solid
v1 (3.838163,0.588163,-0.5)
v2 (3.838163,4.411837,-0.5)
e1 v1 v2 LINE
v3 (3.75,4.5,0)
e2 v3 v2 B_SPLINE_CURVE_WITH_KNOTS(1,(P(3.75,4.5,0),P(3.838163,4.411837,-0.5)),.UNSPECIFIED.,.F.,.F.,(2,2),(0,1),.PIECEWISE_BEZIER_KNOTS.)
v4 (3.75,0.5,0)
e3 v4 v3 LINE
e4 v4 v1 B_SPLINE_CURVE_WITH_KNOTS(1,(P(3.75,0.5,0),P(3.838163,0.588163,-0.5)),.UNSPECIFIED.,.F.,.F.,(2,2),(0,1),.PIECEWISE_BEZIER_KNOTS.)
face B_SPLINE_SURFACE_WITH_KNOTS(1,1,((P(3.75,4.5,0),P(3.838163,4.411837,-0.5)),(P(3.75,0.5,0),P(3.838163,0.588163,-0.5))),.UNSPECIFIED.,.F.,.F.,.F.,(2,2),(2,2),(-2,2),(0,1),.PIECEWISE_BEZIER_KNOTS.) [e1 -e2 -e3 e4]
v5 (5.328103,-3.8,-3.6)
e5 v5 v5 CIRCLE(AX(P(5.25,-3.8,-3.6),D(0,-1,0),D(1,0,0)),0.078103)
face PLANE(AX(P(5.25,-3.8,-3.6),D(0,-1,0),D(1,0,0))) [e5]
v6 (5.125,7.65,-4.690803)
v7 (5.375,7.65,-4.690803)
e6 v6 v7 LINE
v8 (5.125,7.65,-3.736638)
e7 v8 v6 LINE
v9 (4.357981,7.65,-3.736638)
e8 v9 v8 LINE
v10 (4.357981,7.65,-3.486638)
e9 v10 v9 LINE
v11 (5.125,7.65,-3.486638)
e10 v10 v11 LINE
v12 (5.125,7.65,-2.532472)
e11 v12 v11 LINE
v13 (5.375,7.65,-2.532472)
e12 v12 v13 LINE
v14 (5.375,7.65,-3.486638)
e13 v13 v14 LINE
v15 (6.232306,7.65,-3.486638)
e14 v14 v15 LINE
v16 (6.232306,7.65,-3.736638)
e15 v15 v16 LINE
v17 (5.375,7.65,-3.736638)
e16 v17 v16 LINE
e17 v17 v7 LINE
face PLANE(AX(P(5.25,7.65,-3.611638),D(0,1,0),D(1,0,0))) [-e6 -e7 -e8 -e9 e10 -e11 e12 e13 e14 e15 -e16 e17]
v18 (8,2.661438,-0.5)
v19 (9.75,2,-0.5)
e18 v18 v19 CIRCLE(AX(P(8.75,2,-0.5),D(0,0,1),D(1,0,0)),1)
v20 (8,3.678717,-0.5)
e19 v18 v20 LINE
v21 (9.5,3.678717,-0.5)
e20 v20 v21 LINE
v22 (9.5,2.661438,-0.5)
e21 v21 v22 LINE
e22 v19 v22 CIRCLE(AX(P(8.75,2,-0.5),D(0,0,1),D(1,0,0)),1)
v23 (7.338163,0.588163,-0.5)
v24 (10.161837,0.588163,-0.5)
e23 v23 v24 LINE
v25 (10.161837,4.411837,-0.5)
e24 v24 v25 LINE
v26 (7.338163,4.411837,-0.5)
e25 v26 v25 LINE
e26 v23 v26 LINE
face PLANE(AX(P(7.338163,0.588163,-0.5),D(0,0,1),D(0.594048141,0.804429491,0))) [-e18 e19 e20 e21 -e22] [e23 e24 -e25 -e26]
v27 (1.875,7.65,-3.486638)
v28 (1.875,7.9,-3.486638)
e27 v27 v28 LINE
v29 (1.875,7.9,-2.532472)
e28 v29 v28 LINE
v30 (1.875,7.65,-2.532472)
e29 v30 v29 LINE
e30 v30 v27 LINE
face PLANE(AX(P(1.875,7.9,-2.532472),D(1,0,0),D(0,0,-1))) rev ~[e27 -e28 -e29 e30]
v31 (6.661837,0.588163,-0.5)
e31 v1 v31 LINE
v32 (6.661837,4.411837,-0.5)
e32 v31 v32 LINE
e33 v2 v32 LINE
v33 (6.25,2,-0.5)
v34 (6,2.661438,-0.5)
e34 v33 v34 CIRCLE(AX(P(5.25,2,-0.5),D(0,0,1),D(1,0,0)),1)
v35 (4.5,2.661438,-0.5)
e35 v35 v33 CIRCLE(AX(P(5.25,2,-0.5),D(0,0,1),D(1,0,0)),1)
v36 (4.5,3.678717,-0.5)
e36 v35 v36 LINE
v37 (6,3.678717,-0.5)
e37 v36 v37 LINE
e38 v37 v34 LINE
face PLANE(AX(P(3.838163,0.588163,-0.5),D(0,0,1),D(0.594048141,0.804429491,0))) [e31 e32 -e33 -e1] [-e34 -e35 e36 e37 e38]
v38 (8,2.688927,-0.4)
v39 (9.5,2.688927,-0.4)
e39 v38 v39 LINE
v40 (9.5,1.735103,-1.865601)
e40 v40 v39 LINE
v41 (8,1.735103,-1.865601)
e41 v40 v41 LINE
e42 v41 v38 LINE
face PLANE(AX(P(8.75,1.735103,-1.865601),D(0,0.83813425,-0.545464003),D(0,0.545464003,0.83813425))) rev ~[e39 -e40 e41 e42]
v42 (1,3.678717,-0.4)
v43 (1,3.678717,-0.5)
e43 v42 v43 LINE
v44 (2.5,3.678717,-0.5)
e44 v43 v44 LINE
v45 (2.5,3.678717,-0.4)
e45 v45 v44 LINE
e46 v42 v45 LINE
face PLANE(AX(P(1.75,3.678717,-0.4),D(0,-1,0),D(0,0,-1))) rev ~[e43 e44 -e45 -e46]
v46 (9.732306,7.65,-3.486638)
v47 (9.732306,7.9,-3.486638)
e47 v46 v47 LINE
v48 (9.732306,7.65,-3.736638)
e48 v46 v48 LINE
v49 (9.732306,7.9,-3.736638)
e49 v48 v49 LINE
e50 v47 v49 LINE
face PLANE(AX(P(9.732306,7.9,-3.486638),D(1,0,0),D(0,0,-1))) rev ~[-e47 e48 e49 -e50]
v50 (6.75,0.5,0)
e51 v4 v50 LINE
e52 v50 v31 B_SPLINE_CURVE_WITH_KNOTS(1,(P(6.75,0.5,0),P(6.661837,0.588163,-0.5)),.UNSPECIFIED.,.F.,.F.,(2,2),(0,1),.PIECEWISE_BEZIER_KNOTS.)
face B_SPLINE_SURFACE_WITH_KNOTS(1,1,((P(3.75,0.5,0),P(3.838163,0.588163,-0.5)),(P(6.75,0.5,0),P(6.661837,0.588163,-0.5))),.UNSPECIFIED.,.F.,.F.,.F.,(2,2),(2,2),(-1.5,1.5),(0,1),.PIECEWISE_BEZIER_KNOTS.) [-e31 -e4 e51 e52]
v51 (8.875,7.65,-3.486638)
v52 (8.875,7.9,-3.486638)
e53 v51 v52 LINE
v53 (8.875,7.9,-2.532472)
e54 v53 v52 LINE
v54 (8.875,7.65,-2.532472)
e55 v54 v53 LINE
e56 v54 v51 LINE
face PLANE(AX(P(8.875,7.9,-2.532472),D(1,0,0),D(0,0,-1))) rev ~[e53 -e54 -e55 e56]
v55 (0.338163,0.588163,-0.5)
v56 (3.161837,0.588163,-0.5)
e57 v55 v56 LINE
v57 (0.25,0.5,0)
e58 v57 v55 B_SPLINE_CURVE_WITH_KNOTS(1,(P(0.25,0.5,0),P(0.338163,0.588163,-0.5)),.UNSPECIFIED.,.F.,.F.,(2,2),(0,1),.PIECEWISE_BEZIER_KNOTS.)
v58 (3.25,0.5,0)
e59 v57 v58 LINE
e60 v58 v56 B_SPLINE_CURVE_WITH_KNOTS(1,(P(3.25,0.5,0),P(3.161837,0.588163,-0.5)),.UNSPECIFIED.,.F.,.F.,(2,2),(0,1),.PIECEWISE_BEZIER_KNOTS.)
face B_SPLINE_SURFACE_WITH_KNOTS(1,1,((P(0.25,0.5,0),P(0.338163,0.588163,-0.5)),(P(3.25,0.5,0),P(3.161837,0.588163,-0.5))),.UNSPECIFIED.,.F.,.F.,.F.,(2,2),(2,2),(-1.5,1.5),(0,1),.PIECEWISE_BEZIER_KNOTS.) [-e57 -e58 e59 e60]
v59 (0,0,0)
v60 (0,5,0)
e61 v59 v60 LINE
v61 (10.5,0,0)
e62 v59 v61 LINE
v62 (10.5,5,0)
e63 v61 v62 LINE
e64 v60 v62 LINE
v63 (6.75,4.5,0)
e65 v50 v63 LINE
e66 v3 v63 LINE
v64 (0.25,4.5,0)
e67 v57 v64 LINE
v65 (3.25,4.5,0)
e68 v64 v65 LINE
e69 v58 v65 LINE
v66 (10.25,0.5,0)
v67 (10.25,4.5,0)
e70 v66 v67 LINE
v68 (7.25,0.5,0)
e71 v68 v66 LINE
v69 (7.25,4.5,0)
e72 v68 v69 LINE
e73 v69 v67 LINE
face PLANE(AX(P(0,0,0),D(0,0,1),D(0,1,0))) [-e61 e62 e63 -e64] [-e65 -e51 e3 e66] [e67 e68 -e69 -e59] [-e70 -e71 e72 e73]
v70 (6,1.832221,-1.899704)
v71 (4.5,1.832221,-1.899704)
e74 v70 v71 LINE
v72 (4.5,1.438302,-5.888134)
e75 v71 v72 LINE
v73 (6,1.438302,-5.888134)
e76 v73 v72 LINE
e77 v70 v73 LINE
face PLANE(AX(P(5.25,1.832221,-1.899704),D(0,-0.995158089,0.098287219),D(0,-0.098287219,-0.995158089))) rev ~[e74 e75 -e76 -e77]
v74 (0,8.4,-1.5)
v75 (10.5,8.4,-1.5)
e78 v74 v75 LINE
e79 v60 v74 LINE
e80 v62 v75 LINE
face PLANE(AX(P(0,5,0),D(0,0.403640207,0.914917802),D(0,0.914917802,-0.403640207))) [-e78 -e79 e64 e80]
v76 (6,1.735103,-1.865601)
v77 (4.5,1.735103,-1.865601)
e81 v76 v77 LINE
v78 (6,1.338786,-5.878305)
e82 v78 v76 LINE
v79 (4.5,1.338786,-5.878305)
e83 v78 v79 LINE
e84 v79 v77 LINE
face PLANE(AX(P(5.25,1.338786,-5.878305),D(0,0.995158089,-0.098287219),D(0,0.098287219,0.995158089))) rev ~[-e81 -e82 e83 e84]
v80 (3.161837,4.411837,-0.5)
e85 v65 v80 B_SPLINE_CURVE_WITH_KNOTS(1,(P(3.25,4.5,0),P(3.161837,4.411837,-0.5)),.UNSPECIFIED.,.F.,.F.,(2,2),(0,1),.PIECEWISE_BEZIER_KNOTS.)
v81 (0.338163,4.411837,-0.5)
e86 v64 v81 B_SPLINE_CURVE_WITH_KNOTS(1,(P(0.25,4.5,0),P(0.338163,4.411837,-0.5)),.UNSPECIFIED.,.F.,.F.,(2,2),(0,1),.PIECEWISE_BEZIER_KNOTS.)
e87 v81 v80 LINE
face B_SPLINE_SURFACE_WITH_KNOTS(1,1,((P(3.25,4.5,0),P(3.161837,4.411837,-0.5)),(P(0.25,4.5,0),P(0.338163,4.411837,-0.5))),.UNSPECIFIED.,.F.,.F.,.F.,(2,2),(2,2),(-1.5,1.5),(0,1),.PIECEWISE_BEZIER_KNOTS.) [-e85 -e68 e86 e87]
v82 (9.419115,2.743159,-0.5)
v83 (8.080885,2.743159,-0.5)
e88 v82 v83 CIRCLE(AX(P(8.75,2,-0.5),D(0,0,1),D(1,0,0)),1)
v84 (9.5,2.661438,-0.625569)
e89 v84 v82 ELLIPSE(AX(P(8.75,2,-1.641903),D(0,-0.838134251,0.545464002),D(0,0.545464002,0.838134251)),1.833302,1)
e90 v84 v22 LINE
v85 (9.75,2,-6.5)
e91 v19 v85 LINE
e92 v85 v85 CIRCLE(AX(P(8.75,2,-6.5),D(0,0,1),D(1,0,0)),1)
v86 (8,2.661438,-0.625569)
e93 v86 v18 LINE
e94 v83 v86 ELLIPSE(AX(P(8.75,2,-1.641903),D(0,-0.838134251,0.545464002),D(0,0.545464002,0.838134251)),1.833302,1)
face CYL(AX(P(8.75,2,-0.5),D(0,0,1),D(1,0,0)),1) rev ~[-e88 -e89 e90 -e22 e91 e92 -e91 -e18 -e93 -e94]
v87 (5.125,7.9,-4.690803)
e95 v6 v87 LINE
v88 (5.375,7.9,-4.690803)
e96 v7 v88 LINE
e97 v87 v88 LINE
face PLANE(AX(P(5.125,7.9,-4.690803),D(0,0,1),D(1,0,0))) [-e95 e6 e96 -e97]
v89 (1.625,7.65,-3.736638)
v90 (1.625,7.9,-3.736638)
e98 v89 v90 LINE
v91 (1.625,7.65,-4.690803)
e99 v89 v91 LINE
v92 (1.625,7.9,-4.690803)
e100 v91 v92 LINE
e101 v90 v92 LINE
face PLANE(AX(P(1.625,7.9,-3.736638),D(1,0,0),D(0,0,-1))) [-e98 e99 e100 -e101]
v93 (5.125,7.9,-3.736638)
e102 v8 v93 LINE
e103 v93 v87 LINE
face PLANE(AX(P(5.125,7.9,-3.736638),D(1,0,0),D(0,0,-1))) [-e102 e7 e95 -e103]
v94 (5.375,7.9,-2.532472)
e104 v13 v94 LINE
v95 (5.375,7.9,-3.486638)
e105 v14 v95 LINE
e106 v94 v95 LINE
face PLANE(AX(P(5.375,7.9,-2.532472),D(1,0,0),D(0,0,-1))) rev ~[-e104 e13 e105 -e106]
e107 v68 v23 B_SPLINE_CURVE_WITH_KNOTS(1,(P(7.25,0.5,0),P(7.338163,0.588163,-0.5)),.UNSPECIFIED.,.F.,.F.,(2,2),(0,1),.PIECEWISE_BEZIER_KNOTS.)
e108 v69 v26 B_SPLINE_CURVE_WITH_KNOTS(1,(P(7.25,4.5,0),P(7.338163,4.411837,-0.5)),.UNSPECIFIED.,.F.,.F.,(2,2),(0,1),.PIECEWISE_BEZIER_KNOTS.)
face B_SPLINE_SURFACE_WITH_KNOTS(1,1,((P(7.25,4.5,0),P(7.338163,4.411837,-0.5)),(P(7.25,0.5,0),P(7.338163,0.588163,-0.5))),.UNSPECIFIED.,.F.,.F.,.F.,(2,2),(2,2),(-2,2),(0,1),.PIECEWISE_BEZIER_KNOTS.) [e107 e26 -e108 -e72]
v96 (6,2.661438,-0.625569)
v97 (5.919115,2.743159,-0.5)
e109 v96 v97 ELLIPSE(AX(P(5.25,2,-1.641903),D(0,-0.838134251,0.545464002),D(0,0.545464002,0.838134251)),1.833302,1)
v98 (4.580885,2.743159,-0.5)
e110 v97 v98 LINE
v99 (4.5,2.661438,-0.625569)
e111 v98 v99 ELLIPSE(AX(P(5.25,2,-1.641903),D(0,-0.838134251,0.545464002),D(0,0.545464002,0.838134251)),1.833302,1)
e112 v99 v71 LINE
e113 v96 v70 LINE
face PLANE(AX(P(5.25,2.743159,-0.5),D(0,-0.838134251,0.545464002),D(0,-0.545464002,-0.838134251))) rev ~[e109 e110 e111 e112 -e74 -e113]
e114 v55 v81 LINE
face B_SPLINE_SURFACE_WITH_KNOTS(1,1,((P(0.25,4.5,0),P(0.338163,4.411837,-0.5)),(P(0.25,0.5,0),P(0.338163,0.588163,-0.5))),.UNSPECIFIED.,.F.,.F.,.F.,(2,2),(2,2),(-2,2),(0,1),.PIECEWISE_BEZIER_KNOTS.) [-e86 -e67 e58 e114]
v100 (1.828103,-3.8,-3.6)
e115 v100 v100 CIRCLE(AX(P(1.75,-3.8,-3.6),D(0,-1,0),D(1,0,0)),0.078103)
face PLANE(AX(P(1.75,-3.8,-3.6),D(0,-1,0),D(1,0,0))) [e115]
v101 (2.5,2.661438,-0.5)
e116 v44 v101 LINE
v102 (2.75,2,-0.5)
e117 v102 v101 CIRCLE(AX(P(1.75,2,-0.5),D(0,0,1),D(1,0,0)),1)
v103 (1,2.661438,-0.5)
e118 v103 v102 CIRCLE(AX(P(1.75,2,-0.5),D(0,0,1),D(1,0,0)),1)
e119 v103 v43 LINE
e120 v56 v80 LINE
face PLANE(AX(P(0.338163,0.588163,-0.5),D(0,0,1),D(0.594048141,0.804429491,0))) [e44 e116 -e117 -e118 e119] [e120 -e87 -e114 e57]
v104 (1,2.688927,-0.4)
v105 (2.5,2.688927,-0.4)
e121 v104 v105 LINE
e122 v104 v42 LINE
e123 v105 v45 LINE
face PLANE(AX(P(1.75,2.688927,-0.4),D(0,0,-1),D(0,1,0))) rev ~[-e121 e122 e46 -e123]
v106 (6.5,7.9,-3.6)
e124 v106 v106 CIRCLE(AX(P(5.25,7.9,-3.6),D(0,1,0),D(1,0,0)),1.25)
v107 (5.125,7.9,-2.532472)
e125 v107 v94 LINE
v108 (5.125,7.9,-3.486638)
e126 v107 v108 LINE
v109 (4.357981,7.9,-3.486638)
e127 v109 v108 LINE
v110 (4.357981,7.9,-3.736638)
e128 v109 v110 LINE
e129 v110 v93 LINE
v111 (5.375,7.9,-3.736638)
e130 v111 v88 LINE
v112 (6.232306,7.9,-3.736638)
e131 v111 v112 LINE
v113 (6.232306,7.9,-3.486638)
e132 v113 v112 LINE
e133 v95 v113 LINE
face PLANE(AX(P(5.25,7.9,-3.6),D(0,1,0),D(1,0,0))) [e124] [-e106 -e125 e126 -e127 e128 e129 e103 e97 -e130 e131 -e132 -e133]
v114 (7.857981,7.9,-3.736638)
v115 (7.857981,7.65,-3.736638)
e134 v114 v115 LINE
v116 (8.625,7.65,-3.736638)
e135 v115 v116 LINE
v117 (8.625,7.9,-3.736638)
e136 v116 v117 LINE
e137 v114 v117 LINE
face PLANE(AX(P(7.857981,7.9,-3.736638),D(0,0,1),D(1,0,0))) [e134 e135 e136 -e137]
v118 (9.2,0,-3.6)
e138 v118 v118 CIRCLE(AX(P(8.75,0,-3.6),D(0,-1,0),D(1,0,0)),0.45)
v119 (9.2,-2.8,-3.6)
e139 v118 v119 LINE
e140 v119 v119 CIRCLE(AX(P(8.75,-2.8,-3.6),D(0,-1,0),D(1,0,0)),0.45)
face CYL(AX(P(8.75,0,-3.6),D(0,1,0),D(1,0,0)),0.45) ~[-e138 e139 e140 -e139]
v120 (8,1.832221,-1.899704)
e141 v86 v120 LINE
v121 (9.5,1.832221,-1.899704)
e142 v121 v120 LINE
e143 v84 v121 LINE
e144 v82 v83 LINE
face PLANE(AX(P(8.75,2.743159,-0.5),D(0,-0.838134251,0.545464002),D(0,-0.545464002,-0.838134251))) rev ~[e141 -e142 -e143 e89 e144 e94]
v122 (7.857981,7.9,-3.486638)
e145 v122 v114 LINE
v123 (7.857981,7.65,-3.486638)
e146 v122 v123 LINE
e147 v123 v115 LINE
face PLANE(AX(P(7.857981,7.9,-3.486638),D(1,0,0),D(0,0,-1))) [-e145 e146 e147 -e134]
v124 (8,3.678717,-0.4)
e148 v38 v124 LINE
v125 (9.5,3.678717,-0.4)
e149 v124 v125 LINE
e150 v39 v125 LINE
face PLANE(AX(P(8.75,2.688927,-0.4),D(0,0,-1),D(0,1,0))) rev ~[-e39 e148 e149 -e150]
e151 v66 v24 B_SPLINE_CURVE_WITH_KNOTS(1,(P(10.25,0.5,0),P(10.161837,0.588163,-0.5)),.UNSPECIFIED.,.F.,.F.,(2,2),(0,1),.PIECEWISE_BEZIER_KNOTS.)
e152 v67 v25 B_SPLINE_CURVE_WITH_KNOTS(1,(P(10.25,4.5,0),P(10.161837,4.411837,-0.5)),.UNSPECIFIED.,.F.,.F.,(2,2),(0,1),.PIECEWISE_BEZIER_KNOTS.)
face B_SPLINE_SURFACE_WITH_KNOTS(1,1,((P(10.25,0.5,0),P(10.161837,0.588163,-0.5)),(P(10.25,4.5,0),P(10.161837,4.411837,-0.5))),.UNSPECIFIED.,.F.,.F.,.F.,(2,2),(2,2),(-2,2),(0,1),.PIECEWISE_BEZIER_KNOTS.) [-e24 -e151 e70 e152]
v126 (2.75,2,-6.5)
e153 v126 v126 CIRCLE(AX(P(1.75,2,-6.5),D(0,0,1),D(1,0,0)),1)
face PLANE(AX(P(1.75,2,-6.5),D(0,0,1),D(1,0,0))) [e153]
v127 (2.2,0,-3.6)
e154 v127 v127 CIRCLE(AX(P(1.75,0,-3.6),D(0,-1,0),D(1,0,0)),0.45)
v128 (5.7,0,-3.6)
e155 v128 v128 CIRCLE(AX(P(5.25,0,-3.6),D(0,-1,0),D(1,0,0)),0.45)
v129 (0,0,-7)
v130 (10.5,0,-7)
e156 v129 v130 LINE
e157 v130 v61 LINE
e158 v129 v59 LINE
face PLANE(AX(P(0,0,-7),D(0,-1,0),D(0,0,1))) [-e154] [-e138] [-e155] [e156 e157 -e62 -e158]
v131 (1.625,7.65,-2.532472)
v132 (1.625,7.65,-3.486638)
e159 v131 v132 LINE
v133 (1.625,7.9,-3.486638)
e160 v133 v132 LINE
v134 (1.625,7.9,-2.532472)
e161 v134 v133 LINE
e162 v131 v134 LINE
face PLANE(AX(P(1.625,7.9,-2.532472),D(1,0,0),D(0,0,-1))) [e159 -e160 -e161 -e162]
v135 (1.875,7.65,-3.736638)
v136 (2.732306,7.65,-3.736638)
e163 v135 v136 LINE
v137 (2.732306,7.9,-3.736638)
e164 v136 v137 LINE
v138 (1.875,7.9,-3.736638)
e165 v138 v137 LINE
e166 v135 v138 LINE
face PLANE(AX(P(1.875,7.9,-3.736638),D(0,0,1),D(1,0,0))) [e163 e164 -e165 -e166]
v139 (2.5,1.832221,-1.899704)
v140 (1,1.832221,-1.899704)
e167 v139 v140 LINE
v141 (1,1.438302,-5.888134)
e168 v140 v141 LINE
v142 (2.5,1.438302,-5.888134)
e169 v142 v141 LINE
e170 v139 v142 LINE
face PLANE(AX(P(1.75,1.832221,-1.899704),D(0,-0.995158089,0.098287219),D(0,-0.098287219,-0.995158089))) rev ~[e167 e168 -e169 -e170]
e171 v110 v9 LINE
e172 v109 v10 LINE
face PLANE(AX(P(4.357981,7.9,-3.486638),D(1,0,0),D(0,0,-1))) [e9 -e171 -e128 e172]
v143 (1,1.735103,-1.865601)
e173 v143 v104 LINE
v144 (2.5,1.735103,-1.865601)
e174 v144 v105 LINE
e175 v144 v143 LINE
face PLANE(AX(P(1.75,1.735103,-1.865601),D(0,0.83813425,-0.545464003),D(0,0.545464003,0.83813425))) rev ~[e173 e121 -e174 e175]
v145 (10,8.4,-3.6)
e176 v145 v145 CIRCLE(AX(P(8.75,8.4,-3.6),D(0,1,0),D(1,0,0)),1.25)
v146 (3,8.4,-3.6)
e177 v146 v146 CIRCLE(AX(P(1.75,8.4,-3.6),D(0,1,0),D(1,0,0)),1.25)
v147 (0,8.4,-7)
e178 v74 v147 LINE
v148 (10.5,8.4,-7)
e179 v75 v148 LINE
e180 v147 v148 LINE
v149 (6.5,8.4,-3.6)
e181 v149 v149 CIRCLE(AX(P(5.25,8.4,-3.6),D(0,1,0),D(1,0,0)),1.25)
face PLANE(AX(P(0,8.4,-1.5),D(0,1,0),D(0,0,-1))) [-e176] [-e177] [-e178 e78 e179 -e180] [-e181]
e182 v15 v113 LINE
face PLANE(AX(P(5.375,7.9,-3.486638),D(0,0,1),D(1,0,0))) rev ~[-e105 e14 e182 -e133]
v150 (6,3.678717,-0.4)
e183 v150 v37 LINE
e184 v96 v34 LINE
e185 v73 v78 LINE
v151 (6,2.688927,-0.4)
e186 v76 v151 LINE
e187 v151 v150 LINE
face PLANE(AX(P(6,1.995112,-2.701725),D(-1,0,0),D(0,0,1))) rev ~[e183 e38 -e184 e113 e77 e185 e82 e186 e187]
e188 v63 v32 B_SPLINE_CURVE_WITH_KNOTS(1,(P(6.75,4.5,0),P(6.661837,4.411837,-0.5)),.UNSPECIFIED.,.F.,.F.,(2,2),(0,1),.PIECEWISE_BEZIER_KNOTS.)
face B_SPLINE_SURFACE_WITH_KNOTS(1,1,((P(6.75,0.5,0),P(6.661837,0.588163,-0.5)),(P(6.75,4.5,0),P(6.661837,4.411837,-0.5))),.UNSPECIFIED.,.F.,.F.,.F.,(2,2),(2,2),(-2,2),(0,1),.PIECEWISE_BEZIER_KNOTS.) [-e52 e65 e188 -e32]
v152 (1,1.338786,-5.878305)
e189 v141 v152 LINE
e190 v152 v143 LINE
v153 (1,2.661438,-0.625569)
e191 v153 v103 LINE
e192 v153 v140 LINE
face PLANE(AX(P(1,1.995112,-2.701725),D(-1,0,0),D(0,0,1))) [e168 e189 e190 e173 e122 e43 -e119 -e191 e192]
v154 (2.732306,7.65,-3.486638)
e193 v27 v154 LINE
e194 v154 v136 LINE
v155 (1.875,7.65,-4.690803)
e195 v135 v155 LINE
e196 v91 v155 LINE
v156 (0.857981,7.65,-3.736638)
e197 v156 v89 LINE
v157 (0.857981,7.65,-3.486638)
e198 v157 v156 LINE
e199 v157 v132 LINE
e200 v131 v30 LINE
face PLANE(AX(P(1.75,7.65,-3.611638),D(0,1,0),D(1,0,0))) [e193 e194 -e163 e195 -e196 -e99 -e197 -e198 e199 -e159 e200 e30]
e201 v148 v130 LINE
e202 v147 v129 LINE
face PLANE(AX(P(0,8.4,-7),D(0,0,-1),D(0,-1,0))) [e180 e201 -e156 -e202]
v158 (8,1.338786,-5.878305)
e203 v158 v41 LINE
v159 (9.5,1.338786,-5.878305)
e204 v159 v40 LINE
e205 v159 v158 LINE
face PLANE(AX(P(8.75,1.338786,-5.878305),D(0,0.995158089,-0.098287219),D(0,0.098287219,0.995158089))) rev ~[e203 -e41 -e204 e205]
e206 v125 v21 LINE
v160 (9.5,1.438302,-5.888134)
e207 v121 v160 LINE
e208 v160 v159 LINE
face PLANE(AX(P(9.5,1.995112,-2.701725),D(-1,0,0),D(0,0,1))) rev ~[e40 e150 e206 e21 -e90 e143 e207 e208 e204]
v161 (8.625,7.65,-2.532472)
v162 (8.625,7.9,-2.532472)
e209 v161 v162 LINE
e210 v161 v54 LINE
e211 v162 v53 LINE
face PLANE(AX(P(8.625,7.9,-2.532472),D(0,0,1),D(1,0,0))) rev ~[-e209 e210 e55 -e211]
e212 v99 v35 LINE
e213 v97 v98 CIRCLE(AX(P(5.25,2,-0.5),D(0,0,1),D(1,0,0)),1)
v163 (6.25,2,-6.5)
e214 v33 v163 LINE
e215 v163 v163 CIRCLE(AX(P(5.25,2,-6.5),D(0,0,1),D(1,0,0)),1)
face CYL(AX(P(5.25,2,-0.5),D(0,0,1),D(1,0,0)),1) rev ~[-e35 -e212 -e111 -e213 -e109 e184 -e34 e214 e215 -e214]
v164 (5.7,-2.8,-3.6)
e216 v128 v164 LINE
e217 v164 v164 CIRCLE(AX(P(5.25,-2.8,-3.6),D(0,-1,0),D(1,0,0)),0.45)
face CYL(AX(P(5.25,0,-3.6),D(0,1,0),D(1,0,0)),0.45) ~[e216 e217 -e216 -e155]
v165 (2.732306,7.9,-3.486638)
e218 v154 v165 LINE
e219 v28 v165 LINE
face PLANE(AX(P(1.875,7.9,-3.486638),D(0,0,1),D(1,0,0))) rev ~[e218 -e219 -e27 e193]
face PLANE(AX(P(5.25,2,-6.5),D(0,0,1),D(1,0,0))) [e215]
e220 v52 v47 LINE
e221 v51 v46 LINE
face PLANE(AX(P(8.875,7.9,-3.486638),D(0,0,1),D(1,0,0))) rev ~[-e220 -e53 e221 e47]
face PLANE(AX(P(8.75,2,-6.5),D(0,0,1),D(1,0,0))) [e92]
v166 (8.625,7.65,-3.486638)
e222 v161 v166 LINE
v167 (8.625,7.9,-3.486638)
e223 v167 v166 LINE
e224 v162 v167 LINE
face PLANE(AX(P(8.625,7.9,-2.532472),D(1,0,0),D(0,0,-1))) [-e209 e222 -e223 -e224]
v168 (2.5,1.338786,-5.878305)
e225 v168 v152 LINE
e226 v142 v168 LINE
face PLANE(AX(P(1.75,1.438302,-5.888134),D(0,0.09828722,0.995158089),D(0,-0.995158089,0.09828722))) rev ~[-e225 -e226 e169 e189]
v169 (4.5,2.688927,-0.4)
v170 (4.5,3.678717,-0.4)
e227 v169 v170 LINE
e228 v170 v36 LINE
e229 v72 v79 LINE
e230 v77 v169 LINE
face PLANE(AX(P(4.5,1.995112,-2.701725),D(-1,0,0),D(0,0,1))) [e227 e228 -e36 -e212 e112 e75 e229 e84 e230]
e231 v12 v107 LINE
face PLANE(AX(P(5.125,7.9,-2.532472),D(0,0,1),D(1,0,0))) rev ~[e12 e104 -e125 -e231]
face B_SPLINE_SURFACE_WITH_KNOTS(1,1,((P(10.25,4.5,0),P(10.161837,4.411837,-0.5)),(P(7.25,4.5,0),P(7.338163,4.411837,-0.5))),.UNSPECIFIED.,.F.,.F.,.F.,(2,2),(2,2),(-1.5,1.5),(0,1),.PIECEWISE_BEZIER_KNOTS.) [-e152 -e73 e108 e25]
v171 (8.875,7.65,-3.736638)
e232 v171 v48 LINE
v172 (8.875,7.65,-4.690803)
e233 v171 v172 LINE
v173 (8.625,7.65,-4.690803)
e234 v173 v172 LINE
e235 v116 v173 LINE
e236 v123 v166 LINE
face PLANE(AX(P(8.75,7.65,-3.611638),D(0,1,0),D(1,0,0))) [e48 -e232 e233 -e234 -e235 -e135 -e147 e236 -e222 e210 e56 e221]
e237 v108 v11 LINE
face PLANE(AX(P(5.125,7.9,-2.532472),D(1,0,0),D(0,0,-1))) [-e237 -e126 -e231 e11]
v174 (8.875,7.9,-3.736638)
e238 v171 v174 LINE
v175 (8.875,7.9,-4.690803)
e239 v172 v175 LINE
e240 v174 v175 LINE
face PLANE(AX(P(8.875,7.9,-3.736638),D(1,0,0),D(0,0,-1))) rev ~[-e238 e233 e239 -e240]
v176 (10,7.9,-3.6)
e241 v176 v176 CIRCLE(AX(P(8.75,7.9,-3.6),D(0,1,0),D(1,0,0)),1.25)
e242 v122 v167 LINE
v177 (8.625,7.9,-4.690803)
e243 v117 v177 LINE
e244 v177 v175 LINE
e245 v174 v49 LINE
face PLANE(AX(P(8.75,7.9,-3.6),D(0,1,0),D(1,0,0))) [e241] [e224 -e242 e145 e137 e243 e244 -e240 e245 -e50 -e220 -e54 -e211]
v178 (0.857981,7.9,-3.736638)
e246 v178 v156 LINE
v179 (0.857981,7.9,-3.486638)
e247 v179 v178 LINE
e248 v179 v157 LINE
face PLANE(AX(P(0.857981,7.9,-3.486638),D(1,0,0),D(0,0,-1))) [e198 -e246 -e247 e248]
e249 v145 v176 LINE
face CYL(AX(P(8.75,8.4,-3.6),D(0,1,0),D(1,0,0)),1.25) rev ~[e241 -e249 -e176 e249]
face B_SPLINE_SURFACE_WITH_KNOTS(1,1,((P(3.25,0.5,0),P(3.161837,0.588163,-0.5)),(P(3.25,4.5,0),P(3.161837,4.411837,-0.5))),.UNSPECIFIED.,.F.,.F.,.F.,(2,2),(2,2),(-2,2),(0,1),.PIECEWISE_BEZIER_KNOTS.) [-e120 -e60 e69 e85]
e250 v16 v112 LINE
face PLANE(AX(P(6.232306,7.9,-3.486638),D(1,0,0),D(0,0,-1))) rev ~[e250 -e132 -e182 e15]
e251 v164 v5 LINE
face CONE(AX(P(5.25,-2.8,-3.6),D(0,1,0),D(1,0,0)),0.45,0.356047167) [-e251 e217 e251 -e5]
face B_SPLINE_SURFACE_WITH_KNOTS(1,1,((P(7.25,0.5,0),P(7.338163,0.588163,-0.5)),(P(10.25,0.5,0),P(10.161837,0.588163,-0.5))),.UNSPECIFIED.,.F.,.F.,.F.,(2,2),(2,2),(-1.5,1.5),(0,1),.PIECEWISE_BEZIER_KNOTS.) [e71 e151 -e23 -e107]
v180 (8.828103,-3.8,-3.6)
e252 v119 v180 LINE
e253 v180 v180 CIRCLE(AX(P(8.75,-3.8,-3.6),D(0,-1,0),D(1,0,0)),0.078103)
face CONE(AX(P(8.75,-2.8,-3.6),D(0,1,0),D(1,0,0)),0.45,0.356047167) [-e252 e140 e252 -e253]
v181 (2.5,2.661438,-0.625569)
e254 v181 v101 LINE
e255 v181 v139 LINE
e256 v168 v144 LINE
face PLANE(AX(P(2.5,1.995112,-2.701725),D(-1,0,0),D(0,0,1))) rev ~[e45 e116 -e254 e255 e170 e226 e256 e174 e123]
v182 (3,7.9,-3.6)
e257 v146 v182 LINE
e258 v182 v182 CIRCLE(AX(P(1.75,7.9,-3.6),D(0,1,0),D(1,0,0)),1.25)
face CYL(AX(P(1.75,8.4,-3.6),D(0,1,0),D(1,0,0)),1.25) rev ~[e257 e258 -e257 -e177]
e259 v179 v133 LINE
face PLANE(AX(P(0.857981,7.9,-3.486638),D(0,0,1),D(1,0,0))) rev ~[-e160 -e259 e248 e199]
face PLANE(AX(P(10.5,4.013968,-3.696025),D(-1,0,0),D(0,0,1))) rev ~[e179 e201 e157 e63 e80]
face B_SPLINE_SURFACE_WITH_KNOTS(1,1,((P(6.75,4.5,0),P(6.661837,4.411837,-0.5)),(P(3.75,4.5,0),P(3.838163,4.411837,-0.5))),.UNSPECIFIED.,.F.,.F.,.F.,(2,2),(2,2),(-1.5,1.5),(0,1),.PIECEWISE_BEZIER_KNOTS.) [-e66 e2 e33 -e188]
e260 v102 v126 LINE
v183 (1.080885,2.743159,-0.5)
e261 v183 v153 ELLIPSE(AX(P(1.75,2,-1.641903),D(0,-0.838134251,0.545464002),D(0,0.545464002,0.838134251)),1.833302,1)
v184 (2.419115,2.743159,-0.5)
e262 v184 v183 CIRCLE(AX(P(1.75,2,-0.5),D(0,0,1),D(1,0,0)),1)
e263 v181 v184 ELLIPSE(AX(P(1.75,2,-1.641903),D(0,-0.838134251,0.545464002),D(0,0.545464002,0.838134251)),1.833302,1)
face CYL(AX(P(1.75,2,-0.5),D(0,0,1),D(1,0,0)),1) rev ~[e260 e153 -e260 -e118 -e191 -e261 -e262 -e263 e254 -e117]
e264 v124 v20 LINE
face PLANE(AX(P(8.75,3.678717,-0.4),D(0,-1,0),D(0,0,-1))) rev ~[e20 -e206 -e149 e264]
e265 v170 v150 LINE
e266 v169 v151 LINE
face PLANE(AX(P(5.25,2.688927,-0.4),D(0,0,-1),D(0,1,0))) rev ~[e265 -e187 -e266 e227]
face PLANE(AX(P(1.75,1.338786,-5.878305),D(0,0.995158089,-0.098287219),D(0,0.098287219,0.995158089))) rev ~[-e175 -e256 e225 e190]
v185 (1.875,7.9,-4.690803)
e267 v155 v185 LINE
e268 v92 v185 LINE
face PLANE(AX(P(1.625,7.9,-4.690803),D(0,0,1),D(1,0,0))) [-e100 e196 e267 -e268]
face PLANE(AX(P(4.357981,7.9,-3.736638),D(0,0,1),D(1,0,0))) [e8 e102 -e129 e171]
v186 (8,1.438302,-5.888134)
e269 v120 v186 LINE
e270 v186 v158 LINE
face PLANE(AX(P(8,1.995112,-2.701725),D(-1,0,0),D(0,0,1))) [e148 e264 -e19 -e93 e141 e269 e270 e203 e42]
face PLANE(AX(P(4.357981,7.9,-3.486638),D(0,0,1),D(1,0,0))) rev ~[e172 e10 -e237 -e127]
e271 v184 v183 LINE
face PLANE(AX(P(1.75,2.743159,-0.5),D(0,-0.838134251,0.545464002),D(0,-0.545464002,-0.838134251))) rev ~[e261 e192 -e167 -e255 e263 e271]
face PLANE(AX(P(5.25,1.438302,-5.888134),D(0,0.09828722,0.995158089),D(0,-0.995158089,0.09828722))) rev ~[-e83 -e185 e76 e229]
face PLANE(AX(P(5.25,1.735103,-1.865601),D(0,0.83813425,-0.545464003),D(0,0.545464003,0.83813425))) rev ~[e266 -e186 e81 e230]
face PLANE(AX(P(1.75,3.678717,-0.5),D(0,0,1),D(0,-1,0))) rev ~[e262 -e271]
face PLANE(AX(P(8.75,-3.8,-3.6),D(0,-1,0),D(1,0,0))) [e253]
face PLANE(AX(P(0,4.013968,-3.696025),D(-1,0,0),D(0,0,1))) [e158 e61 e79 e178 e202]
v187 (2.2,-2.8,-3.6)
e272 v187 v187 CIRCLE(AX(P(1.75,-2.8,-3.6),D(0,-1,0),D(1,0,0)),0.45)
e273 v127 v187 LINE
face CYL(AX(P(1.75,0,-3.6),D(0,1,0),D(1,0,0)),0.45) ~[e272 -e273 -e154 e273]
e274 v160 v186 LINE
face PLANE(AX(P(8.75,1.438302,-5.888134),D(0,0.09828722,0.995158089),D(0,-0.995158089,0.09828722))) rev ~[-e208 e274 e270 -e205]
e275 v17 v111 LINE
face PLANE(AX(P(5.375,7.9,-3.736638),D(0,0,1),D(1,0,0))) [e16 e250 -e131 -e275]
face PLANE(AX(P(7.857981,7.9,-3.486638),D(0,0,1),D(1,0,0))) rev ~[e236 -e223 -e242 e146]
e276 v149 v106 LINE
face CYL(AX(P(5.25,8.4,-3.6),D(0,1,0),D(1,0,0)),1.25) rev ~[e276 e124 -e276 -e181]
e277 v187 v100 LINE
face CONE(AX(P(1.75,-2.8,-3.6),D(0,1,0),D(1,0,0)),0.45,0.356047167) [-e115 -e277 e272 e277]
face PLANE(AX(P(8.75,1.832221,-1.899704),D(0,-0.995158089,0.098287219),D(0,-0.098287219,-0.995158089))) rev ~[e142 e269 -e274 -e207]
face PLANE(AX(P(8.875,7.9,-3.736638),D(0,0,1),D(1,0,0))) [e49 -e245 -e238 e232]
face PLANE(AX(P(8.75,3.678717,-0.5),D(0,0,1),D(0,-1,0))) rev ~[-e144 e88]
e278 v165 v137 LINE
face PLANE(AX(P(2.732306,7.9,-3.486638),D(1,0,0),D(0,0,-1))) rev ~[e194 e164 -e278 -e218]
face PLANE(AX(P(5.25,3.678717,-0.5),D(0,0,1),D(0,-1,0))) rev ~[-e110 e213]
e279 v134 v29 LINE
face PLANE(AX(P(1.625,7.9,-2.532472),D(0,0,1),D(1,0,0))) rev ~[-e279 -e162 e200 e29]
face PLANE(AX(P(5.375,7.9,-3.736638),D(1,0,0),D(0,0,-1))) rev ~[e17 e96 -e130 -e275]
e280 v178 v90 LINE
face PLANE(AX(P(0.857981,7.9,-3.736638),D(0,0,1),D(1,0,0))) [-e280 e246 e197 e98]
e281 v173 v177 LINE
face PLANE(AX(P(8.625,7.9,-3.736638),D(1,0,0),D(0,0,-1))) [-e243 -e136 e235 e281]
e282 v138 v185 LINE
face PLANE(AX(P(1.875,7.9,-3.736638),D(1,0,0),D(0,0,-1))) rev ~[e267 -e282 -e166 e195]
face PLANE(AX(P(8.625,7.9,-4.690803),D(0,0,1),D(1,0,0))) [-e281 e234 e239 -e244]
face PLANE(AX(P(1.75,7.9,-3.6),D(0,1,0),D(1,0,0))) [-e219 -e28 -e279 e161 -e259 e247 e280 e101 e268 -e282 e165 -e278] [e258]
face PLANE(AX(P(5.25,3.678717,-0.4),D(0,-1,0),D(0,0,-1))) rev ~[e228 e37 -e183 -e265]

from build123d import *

# Parameters (mm, degrees)
BOSS_EXTRUDE1_DEPTH         = 10.5
SKETCH2_R                   = 1.25
CUT_EXTRUDE1_DEPTH          = 0.5
SKETCH3_W                   = 3
SKETCH3_H                   = 4
CUT_EXTRUDE2_DEPTH          = 0.5
CUT_EXTRUDE2_TAPER          = 10
SKETCH4_R                   = 1
CUT_EXTRUDE3_DEPTH          = 6
SKETCH6_R                   = 0.45
BOSS_EXTRUDE3_DEPTH         = 3.8
CHAMFER1_SIZE               = 1
CHAMFER1_SIZE2              = 0.371896666
EXTRUDE_THIN1_DEPTH         = 0.75
SKETCH8_W                   = 0.25
SKETCH8_H                   = 2.158330758
SKETCH8_W_2                 = 1.874325027
SKETCH8_H_2                 = 0.25
CUT_EXTRUDE_THIN1_DEPTH     = 0.25
LPATTERN1_COUNT             = 3
LPATTERN1_PITCH             = 3.5
CHAMFER1_OF_LPATTERN1_SIZE2 = 0.371896666
CHAMFER1_OF_LPATTERN1_SIZE  = 1


with BuildPart() as part:
    # Sketch1 → Boss-Extrude1 (new body)
    with BuildSketch(Plane(origin=(0, 0, 0), x_dir=(0, 0, -1), z_dir=(1, 0, 0))):
        Polygon((0, 5), (1.5, 8.4), (7, 8.4), (7, 0), (0, 0), align=None)
    extrude(amount=BOSS_EXTRUDE1_DEPTH)

    # Sketch2 → Cut-Extrude1 (cut)
    with BuildSketch(Plane(origin=(0, 8.4, 0), x_dir=(1, 0, 0), z_dir=(0, 1, 0))):
        with Locations((1.75, 3.6)):
            Circle(SKETCH2_R)
    cut_extrude1 = extrude(amount=-CUT_EXTRUDE1_DEPTH, mode=Mode.SUBTRACT)

    # Sketch3 → Cut-Extrude2 (cut)
    with BuildSketch(Plane.XY):
        with Locations((1.75, 2.5)):
            Rectangle(SKETCH3_W, SKETCH3_H)
    cut_extrude2 = extrude(amount=-CUT_EXTRUDE2_DEPTH, taper=CUT_EXTRUDE2_TAPER, mode=Mode.SUBTRACT)

    # Sketch4 → Cut-Extrude3 (cut)
    with BuildSketch(Plane.XY.offset(-0.5)):
        with Locations((1.75, 2)):
            Circle(SKETCH4_R)
    cut_extrude3 = extrude(amount=-CUT_EXTRUDE3_DEPTH, mode=Mode.SUBTRACT)

    # Sketch6 → Boss-Extrude3 (add)
    with BuildSketch(Plane.XZ):
        with Locations((1.75, -3.6)):
            Circle(SKETCH6_R)
    boss_extrude3 = extrude(amount=BOSS_EXTRUDE3_DEPTH)

    # Chamfer1
    chamfer1_edges = [part.edges().sort_by_distance(p)[0] for p in [
        (1.3, -3.8, -3.6),
    ]]
    chamfer1_side = [part.faces().sort_by_distance(p)[0] for p in [
        (1.3, -1.9, -3.6),
    ]]
    chamfer(chamfer1_edges, length=CHAMFER1_SIZE, length2=CHAMFER1_SIZE2, reference=chamfer1_side[0])

    # Sketch7 → Extrude-Thin1 (add, symmetric)
    with BuildSketch(Plane(origin=(1.75, 0, 0), x_dir=(0, 0, -1), z_dir=(1, 0, 0))):
        Polygon((0.5, 3.678716588), (0.5, 2.743158903), (1.89970396, 1.832221158), (5.88813409, 1.438302133), (5.878305368, 1.338786324), (1.865601336, 1.735102771), (0.4, 2.688927019), (0.4, 3.678716588), align=None)
    extrude_thin1 = extrude(amount=EXTRUDE_THIN1_DEPTH, both=True)

    # Sketch8 → Cut-Extrude-Thin1 (cut, symmetric)
    with BuildSketch(Plane(origin=(0, 7.9, 0), x_dir=(1, 0, 0), z_dir=(0, 1, 0))):
        with Locations((1.75, 3.611637798)):
            Rectangle(SKETCH8_W, SKETCH8_H)
        with Locations((1.795143175, 3.611637798)):
            Rectangle(SKETCH8_W_2, SKETCH8_H_2)
    cut_extrude_thin1 = extrude(amount=CUT_EXTRUDE_THIN1_DEPTH, both=True, mode=Mode.SUBTRACT)

    # LPattern1: Cut-Extrude1, Cut-Extrude2, Cut-Extrude3, Boss-Extrude3, Extrude-Thin1, Cut-Extrude-Thin1 ×3
    with Locations(*[(i * LPATTERN1_PITCH, 0, 0) for i in range(1, LPATTERN1_COUNT)]):
        add(cut_extrude1, mode=Mode.SUBTRACT)
        add(cut_extrude2, mode=Mode.SUBTRACT)
        add(cut_extrude3, mode=Mode.SUBTRACT)
        add(boss_extrude3)
        add(extrude_thin1)
        add(cut_extrude_thin1, mode=Mode.SUBTRACT)

    # Chamfer1 of LPattern1
    chamfer1_of_lpattern1_edges = [part.edges().sort_by_distance(p)[0] for p in [
        (4.8, -3.8, -3.6),
        (8.3, -3.8, -3.6),
    ]]
    chamfer(chamfer1_of_lpattern1_edges, length=CHAMFER1_OF_LPATTERN1_SIZE, length2=CHAMFER1_OF_LPATTERN1_SIZE2)


solid = part.part
